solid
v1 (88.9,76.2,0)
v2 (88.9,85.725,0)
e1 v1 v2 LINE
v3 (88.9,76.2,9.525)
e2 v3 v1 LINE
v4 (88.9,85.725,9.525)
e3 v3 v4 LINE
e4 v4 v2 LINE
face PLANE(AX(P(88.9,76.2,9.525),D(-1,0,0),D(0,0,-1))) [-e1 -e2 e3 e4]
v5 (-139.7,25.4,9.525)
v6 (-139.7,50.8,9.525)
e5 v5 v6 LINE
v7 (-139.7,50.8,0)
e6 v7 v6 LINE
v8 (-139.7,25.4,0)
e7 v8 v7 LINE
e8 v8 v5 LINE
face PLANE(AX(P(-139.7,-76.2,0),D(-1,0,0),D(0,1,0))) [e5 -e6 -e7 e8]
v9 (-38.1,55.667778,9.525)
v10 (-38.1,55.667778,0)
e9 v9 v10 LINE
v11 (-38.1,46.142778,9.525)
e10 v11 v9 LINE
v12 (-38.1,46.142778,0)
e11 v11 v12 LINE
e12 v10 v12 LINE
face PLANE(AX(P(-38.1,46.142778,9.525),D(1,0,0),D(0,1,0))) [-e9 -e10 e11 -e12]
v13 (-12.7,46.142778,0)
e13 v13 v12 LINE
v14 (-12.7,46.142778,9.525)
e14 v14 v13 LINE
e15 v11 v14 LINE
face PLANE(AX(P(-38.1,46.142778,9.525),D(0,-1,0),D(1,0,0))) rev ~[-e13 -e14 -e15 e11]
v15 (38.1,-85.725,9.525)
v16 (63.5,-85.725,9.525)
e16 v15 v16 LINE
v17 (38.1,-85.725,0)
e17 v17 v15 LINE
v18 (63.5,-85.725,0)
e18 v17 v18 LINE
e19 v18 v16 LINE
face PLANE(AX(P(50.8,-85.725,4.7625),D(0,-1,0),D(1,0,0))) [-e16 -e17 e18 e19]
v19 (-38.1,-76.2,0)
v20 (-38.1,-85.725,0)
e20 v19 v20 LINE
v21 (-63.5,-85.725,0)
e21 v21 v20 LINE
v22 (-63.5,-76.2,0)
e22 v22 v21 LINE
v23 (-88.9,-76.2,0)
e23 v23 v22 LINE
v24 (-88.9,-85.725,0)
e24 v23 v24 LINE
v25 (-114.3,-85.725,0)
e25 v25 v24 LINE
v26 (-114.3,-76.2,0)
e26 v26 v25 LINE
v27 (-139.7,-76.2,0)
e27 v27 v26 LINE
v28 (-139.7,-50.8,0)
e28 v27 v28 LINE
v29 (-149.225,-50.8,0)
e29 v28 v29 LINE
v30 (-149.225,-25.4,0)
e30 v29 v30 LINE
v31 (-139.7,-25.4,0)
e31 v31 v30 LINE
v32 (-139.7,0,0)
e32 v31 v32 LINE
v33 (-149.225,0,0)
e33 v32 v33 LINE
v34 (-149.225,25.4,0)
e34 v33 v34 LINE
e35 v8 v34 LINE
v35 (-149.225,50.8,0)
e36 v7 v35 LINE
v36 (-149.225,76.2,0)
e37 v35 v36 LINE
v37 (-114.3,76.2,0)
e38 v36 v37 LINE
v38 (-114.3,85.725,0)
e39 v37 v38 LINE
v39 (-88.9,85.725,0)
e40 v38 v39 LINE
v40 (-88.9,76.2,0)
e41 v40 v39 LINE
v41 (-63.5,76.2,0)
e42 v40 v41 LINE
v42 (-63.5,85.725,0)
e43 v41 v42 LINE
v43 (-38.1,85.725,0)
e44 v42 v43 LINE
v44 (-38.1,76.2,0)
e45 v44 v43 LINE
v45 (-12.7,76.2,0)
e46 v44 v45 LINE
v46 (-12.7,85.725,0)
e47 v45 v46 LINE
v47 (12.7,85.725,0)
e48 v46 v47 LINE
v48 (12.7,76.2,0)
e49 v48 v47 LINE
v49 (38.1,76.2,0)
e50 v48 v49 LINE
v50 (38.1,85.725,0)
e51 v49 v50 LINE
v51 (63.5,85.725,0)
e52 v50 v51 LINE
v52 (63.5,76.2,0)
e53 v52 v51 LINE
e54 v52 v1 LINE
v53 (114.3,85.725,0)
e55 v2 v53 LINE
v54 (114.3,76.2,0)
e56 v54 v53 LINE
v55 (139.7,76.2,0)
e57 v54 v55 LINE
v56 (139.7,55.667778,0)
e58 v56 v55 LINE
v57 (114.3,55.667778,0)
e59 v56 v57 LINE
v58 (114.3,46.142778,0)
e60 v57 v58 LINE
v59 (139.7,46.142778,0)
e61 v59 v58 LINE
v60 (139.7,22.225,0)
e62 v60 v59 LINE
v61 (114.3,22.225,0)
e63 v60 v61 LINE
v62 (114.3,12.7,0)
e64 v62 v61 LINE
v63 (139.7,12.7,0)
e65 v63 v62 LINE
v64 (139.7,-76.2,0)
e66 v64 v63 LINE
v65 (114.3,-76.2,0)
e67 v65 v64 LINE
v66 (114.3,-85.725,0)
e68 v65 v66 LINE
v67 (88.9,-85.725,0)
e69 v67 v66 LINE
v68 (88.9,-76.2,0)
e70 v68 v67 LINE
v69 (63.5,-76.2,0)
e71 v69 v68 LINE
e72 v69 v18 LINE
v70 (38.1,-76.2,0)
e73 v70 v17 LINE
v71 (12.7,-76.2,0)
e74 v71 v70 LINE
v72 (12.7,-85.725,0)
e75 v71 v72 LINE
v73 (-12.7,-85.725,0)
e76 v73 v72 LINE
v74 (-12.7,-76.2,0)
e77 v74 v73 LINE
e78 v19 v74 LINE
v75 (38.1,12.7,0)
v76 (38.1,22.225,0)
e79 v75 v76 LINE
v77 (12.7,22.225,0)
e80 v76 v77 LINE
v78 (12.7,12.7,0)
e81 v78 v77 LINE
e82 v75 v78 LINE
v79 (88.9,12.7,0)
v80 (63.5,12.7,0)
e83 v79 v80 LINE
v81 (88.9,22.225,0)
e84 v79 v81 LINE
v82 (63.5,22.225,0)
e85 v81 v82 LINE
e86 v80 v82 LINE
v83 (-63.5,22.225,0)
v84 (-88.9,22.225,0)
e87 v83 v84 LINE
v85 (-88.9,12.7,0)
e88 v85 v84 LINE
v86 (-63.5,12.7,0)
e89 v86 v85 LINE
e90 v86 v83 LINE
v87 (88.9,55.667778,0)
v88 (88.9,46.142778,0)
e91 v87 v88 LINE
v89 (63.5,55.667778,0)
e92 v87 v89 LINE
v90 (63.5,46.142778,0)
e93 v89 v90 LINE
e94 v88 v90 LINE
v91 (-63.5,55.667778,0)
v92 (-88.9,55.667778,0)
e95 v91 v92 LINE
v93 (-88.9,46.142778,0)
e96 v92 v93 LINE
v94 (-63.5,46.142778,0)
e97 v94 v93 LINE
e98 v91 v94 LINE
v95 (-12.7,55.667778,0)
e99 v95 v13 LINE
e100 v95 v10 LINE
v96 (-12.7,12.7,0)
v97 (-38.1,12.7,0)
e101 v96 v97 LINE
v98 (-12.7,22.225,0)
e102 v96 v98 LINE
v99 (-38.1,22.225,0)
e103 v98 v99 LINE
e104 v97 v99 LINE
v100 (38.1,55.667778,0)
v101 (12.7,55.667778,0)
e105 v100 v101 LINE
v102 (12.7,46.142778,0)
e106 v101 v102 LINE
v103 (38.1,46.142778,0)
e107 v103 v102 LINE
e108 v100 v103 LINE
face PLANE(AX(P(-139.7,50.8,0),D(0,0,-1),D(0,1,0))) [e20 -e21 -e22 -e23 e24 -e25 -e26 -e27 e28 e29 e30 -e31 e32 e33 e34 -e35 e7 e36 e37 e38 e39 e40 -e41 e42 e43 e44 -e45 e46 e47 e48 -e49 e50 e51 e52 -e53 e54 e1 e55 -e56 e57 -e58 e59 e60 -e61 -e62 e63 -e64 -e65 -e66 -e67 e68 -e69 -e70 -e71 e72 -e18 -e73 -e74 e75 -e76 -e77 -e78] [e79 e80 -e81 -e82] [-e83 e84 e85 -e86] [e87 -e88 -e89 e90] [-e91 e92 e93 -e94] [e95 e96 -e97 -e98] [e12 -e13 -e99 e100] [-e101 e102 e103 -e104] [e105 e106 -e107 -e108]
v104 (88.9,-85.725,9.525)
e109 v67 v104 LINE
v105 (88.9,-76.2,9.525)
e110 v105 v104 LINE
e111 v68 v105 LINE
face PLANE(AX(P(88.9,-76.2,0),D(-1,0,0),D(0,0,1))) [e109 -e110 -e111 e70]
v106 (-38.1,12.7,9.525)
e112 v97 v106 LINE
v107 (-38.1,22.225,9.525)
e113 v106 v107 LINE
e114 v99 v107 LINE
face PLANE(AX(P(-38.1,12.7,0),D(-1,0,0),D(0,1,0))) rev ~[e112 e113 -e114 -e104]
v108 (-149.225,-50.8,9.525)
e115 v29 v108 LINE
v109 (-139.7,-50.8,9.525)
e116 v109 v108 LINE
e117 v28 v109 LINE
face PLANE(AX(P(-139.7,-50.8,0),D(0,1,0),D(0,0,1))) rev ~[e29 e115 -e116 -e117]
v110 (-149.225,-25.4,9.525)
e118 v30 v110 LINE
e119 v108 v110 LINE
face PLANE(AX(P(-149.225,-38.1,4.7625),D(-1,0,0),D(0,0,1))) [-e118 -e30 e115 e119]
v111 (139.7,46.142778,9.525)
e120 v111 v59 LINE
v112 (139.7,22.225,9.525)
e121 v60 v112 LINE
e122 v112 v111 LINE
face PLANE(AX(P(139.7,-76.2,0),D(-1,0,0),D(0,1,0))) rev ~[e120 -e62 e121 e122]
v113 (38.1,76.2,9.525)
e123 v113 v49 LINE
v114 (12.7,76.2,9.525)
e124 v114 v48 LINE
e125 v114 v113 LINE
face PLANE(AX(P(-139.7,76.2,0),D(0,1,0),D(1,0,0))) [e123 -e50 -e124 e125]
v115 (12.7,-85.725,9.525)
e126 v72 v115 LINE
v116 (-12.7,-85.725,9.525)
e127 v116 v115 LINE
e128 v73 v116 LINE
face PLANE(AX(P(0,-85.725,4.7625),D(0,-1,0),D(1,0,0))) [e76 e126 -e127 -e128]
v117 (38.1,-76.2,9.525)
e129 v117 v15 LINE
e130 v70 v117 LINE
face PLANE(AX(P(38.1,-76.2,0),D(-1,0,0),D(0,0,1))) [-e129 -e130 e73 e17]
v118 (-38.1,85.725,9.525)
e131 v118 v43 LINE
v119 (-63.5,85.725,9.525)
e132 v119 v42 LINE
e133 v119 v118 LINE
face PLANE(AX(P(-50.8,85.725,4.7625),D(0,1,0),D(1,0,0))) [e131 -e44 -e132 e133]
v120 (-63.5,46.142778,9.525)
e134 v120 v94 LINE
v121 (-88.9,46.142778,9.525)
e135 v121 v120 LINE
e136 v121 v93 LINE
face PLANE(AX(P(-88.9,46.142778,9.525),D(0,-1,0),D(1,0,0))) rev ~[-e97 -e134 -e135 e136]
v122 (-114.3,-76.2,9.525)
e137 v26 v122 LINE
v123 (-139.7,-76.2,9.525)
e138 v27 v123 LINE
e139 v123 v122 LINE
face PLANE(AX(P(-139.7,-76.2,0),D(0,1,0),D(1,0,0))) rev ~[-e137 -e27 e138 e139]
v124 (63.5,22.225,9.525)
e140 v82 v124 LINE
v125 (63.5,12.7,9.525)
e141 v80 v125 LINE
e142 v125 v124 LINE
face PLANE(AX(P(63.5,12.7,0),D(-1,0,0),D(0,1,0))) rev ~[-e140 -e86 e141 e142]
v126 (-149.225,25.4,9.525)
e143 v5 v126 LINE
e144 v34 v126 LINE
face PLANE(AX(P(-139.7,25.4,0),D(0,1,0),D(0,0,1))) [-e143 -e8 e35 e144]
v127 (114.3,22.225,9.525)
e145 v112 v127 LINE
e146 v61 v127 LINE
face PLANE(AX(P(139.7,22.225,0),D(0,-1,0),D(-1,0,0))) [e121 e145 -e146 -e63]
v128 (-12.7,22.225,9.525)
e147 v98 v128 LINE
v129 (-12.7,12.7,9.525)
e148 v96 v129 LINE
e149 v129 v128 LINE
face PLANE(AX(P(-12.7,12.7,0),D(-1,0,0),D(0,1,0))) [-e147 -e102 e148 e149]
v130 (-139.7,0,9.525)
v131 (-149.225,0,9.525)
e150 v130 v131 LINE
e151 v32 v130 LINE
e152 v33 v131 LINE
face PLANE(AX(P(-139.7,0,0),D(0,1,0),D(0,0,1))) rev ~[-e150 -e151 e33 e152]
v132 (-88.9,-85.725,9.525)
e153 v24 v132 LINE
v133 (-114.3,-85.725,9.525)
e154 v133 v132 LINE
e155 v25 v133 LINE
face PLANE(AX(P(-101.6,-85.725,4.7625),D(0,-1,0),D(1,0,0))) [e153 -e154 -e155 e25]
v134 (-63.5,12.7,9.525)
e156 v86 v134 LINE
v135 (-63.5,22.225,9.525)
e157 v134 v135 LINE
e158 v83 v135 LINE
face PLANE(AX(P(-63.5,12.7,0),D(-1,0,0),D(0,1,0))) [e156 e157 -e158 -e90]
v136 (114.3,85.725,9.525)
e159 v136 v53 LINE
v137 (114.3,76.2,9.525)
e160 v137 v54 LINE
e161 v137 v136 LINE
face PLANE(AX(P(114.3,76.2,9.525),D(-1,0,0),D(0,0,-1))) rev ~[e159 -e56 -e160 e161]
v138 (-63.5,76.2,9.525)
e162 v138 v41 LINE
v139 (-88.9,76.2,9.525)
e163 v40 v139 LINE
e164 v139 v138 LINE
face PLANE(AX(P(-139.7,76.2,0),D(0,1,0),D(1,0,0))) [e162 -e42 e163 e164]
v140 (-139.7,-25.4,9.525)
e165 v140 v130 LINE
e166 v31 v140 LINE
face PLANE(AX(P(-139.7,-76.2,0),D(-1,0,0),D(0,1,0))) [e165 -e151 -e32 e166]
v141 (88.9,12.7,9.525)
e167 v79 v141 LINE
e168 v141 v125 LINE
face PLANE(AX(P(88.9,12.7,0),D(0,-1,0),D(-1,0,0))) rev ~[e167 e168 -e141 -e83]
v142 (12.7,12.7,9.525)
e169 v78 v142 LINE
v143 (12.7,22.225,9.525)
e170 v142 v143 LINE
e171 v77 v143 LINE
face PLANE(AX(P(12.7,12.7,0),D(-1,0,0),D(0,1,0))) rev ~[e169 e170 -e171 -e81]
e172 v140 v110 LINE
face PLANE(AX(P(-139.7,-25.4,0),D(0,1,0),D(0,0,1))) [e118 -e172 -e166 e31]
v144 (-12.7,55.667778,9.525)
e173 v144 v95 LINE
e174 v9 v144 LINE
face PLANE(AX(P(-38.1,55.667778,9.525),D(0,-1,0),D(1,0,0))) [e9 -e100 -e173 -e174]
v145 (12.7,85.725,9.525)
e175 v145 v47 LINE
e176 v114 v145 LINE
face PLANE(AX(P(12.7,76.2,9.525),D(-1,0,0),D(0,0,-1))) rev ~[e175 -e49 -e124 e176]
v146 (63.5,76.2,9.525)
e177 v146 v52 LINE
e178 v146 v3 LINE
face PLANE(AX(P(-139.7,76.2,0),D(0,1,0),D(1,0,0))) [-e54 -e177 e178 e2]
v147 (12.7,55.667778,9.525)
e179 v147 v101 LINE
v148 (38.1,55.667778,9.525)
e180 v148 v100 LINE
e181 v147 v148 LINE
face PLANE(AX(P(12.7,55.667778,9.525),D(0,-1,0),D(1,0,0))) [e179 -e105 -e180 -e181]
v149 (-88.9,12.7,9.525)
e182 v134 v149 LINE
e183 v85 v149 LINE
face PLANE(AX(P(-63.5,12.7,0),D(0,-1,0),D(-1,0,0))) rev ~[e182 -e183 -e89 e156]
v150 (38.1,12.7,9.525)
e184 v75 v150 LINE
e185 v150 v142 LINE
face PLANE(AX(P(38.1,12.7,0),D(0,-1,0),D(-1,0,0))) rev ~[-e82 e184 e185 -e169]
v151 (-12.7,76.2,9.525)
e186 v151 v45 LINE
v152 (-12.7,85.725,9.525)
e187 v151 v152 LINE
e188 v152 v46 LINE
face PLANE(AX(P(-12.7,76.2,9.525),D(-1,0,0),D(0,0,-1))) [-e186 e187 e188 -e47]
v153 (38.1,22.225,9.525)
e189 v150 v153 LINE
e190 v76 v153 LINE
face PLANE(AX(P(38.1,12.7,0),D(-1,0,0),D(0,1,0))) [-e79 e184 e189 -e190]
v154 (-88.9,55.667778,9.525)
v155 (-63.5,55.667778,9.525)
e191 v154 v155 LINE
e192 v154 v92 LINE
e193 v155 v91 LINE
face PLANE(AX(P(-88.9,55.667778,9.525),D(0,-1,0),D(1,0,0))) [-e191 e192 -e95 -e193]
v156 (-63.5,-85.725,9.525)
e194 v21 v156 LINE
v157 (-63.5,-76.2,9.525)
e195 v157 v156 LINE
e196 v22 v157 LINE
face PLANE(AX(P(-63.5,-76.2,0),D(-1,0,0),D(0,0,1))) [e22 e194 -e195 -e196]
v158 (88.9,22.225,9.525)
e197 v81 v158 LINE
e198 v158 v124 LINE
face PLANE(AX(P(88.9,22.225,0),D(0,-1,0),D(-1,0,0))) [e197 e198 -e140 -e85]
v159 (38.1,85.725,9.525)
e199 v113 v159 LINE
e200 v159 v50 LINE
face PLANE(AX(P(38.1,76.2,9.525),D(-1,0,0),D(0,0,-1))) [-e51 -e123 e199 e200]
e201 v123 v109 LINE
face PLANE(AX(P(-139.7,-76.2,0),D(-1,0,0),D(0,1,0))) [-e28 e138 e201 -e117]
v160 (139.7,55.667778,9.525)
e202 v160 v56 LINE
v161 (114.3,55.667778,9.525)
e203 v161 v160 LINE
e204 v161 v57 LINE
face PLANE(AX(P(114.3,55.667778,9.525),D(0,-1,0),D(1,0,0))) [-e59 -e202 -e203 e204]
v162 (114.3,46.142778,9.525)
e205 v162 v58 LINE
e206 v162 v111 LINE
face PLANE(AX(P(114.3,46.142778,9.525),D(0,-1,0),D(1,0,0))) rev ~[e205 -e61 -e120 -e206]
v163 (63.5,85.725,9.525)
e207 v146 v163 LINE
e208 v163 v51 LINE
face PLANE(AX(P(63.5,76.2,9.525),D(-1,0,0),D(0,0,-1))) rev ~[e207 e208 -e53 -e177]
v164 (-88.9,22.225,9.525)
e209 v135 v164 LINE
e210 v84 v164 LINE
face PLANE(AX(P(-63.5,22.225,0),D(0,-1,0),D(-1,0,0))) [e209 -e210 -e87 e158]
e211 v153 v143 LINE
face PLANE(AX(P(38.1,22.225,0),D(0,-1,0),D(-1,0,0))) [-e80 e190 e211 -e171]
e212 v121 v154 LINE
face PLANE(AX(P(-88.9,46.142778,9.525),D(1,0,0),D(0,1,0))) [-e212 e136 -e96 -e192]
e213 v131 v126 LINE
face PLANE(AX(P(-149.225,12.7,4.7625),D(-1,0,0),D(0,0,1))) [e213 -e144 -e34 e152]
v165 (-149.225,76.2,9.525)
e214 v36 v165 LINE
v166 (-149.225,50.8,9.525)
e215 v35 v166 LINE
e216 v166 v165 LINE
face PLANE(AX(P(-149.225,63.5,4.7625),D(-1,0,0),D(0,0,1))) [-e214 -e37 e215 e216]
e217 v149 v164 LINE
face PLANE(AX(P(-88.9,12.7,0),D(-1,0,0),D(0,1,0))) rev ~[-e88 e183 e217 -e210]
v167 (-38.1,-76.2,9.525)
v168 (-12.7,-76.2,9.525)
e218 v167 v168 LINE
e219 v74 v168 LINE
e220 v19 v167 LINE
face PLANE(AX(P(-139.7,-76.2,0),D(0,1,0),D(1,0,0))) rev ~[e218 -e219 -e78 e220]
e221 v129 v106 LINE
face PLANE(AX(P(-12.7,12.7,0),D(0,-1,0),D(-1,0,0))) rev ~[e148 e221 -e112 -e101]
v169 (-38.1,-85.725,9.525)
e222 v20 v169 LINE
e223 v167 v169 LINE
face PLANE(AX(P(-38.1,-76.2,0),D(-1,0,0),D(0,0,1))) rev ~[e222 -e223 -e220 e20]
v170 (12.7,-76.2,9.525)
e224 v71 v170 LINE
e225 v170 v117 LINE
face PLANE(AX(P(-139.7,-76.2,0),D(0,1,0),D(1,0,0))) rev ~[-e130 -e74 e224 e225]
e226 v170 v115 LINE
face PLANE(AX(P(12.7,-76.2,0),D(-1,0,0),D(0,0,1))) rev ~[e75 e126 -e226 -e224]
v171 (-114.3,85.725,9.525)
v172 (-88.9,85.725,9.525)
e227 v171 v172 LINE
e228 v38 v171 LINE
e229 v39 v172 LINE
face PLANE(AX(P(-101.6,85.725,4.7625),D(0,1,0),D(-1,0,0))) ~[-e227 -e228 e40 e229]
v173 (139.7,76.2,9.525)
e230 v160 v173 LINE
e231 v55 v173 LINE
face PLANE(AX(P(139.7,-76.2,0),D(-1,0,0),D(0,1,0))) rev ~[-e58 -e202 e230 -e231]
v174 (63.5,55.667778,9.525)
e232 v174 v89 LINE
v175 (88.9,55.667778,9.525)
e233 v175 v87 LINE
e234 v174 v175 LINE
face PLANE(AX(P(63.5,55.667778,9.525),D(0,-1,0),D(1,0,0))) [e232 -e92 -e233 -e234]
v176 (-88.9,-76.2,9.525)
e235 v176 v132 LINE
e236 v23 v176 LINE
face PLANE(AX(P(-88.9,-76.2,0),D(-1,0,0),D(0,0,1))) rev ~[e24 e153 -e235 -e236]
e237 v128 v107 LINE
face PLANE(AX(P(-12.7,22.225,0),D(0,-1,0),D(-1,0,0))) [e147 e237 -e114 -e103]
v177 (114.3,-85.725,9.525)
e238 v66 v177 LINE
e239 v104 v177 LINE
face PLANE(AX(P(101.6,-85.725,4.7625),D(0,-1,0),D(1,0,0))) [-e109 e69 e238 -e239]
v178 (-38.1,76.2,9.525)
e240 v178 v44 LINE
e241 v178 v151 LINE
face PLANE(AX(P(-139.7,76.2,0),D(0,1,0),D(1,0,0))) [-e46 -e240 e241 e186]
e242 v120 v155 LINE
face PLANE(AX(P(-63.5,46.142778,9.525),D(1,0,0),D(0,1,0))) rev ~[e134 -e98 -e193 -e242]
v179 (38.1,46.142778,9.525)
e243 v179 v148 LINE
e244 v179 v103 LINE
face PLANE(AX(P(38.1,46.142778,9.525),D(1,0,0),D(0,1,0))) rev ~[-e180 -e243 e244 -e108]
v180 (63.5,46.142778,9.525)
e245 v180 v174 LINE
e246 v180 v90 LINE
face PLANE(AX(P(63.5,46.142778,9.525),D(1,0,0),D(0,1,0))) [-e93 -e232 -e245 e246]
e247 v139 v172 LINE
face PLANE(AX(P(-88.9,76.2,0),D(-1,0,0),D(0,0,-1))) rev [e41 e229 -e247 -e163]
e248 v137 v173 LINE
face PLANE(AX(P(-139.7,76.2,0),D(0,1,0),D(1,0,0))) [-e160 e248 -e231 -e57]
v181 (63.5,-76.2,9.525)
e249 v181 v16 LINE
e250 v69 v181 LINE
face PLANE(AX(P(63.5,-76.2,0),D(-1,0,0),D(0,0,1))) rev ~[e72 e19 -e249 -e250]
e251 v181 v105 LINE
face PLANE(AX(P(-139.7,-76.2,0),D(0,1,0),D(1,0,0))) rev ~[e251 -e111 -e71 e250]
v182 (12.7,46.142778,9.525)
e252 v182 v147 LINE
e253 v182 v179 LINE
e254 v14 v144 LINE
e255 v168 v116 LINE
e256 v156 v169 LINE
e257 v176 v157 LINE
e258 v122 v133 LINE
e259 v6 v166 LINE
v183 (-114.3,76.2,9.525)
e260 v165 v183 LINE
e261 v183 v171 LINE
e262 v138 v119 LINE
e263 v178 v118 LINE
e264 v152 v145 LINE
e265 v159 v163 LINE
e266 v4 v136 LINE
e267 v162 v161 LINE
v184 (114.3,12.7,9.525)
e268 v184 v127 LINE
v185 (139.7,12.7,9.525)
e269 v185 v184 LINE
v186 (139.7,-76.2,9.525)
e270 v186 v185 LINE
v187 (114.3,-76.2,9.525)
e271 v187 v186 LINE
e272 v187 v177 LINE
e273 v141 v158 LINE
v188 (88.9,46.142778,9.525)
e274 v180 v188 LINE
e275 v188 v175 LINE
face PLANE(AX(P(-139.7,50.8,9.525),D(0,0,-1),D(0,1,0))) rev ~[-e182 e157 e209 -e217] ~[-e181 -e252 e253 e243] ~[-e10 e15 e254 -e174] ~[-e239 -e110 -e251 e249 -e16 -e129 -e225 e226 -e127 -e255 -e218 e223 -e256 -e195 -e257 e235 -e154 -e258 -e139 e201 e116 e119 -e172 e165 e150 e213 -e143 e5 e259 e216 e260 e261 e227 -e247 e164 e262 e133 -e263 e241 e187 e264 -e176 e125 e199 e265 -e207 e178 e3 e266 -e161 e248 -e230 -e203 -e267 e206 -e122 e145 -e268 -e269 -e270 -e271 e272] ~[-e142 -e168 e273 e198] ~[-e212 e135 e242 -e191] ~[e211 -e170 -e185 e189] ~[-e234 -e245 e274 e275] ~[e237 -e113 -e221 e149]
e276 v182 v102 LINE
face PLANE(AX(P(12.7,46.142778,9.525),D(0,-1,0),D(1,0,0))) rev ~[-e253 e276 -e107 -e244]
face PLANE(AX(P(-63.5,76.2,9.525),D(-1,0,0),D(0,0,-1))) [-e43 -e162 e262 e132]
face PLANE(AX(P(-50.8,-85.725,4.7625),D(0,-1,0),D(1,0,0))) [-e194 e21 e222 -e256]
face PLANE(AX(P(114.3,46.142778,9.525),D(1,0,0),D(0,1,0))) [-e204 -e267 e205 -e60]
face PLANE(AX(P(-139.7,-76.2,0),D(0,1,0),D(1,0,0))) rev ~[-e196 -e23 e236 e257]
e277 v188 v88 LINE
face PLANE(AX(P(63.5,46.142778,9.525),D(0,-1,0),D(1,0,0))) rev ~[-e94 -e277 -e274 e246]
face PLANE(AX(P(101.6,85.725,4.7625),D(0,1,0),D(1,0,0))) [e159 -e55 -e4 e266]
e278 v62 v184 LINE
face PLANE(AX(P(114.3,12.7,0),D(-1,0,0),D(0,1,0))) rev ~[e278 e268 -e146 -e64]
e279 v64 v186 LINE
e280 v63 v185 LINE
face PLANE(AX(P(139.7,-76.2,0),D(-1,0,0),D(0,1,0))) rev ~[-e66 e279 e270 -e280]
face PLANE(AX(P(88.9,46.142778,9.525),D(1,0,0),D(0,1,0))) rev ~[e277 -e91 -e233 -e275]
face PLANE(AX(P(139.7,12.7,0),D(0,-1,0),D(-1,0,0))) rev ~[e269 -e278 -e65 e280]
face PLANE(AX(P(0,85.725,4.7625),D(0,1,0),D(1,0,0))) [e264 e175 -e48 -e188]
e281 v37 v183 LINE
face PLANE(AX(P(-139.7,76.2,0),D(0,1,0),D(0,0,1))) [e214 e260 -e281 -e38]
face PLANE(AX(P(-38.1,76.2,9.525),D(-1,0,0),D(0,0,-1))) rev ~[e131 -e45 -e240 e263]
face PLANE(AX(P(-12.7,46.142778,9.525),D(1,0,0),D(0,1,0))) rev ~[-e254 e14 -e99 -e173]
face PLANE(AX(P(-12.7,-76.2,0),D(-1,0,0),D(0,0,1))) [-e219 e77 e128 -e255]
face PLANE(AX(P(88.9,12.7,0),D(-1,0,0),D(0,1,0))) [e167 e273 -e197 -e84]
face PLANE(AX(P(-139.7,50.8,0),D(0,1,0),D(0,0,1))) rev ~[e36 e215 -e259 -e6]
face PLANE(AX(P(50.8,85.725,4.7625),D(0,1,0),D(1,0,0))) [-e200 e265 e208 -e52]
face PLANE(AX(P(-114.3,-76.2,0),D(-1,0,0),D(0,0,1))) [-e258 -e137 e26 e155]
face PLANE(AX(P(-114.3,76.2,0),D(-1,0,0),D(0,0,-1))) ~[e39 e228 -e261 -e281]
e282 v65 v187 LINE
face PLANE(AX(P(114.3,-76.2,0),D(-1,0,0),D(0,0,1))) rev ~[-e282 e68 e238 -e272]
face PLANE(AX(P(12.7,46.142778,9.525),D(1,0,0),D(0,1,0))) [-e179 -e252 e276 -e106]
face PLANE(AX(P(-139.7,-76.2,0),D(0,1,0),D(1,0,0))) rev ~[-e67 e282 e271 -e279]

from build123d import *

# Parameters (mm, degrees)
SKETCH1_W               = 279.4
SKETCH1_H               = 152.4
BOSS_EXTRUDE1_DEPTH     = 9.525
SKETCH2_W               = 25.4
SKETCH2_H               = 9.525
BOSS_EXTRUDE2_DEPTH     = 9.525
LPATTERN1_COUNT         = 5
LPATTERN1_PITCH         = 50.8
MIRROR1_COPY_1_SKETCH_W = 25.4
MIRROR1_COPY_1_SKETCH_H = 9.525
MIRROR1_COPY_1_DEPTH    = 9.525
MIRROR1_COPY_2_SKETCH_W = 25.4
MIRROR1_COPY_2_SKETCH_H = 9.525
MIRROR1_COPY_2_DEPTH    = 9.525
MIRROR1_COPY_3_SKETCH_W = 25.4
MIRROR1_COPY_3_SKETCH_H = 9.525
MIRROR1_COPY_3_DEPTH    = 9.525
MIRROR1_COPY_4_SKETCH_W = 25.4
MIRROR1_COPY_4_SKETCH_H = 9.525
MIRROR1_COPY_4_DEPTH    = 9.525
SKETCH3_W               = 9.525
SKETCH3_H               = 25.4
BOSS_EXTRUDE3_DEPTH     = 9.525
LPATTERN2_COUNT         = 3
LPATTERN2_PITCH         = 50.8
SKETCH4_W               = 25.4
SKETCH4_H               = 9.525
CUT_EXTRUDE1_DEPTH      = 10.525
LPATTERN3_COUNT         = 5
LPATTERN3_PITCH         = 50.8
SKETCH5_W               = 25.4
SKETCH5_H               = 9.525
CUT_EXTRUDE2_DEPTH      = 10.525
LPATTERN4_COUNT         = 5
LPATTERN4_PITCH         = 50.8


with BuildPart() as part:
    # Sketch1 → Boss-Extrude1 (new body)
    with BuildSketch(Plane.XY):
        Rectangle(SKETCH1_W, SKETCH1_H)
    extrude(amount=BOSS_EXTRUDE1_DEPTH)

    # Sketch2 → Boss-Extrude2 (add)
    with BuildSketch(Plane.XZ.offset(76.2)):
        with Locations((-101.6, 4.7625)):
            Rectangle(SKETCH2_W, SKETCH2_H)
    boss_extrude2 = extrude(amount=BOSS_EXTRUDE2_DEPTH)

    # LPattern1: Boss-Extrude2 ×5
    with Locations(*[(i * LPATTERN1_PITCH, 0, 0) for i in range(1, LPATTERN1_COUNT)]):
        add(boss_extrude2)

    # Mirror1: Boss-Extrude2 across plane
    add(boss_extrude2.mirror(Plane.ZX))

    # Mirror1 copy 1 sketch → Mirror1 copy 1 (add)
    with BuildSketch(Plane(origin=(50.8, 76.2, 0), x_dir=(1, 0, 0), z_dir=(0, 1, 0))):
        with Locations((-101.6, -4.7625)):
            Rectangle(MIRROR1_COPY_1_SKETCH_W, MIRROR1_COPY_1_SKETCH_H)
    extrude(amount=MIRROR1_COPY_1_DEPTH)

    # Mirror1 copy 2 sketch → Mirror1 copy 2 (add)
    with BuildSketch(Plane(origin=(101.6, 76.2, 0), x_dir=(1, 0, 0), z_dir=(0, 1, 0))):
        with Locations((-101.6, -4.7625)):
            Rectangle(MIRROR1_COPY_2_SKETCH_W, MIRROR1_COPY_2_SKETCH_H)
    extrude(amount=MIRROR1_COPY_2_DEPTH)

    # Mirror1 copy 3 sketch → Mirror1 copy 3 (add)
    with BuildSketch(Plane(origin=(152.4, 76.2, 0), x_dir=(1, 0, 0), z_dir=(0, 1, 0))):
        with Locations((-101.6, -4.7625)):
            Rectangle(MIRROR1_COPY_3_SKETCH_W, MIRROR1_COPY_3_SKETCH_H)
    extrude(amount=MIRROR1_COPY_3_DEPTH)

    # Mirror1 copy 4 sketch → Mirror1 copy 4 (add)
    with BuildSketch(Plane(origin=(203.2, 76.2, 0), x_dir=(1, 0, 0), z_dir=(0, 1, 0))):
        with Locations((-101.6, -4.7625)):
            Rectangle(MIRROR1_COPY_4_SKETCH_W, MIRROR1_COPY_4_SKETCH_H)
    extrude(amount=MIRROR1_COPY_4_DEPTH)

    # Sketch3 → Boss-Extrude3 (add)
    with BuildSketch(Plane.ZY.offset(139.7)):
        with Locations((4.7625, 63.5)):
            Rectangle(SKETCH3_W, SKETCH3_H)
    boss_extrude3 = extrude(amount=BOSS_EXTRUDE3_DEPTH)

    # LPattern2: Boss-Extrude3 ×3
    with Locations(*[(0, -i * LPATTERN2_PITCH, 0) for i in range(1, LPATTERN2_COUNT)]):
        add(boss_extrude3)

    # Sketch4 → Cut-Extrude1 (cut, through all)
    with BuildSketch(Plane(origin=(0, 0, 0), x_dir=(-1, 0, 0), z_dir=(0, 0, -1))):
        with Locations((-127, 17.4625)):
            Rectangle(SKETCH4_W, SKETCH4_H)
    cut_extrude1 = extrude(amount=-CUT_EXTRUDE1_DEPTH, mode=Mode.SUBTRACT)

    # LPattern3: Cut-Extrude1 ×5
    with Locations(*[(-i * LPATTERN3_PITCH, 0, 0) for i in range(1, LPATTERN3_COUNT)]):
        add(cut_extrude1, mode=Mode.SUBTRACT)

    # Sketch5 → Cut-Extrude2 (cut, through all)
    with BuildSketch(Plane.XY.offset(9.525)):
        with Locations((-76.2, 50.905277904)):
            Rectangle(SKETCH5_W, SKETCH5_H)
    cut_extrude2 = extrude(amount=-CUT_EXTRUDE2_DEPTH, mode=Mode.SUBTRACT)

    # LPattern4: Cut-Extrude2 ×5
    with Locations(*[(i * LPATTERN4_PITCH, 0, 0) for i in range(1, LPATTERN4_COUNT)]):
        add(cut_extrude2, mode=Mode.SUBTRACT)


solid = part.part
